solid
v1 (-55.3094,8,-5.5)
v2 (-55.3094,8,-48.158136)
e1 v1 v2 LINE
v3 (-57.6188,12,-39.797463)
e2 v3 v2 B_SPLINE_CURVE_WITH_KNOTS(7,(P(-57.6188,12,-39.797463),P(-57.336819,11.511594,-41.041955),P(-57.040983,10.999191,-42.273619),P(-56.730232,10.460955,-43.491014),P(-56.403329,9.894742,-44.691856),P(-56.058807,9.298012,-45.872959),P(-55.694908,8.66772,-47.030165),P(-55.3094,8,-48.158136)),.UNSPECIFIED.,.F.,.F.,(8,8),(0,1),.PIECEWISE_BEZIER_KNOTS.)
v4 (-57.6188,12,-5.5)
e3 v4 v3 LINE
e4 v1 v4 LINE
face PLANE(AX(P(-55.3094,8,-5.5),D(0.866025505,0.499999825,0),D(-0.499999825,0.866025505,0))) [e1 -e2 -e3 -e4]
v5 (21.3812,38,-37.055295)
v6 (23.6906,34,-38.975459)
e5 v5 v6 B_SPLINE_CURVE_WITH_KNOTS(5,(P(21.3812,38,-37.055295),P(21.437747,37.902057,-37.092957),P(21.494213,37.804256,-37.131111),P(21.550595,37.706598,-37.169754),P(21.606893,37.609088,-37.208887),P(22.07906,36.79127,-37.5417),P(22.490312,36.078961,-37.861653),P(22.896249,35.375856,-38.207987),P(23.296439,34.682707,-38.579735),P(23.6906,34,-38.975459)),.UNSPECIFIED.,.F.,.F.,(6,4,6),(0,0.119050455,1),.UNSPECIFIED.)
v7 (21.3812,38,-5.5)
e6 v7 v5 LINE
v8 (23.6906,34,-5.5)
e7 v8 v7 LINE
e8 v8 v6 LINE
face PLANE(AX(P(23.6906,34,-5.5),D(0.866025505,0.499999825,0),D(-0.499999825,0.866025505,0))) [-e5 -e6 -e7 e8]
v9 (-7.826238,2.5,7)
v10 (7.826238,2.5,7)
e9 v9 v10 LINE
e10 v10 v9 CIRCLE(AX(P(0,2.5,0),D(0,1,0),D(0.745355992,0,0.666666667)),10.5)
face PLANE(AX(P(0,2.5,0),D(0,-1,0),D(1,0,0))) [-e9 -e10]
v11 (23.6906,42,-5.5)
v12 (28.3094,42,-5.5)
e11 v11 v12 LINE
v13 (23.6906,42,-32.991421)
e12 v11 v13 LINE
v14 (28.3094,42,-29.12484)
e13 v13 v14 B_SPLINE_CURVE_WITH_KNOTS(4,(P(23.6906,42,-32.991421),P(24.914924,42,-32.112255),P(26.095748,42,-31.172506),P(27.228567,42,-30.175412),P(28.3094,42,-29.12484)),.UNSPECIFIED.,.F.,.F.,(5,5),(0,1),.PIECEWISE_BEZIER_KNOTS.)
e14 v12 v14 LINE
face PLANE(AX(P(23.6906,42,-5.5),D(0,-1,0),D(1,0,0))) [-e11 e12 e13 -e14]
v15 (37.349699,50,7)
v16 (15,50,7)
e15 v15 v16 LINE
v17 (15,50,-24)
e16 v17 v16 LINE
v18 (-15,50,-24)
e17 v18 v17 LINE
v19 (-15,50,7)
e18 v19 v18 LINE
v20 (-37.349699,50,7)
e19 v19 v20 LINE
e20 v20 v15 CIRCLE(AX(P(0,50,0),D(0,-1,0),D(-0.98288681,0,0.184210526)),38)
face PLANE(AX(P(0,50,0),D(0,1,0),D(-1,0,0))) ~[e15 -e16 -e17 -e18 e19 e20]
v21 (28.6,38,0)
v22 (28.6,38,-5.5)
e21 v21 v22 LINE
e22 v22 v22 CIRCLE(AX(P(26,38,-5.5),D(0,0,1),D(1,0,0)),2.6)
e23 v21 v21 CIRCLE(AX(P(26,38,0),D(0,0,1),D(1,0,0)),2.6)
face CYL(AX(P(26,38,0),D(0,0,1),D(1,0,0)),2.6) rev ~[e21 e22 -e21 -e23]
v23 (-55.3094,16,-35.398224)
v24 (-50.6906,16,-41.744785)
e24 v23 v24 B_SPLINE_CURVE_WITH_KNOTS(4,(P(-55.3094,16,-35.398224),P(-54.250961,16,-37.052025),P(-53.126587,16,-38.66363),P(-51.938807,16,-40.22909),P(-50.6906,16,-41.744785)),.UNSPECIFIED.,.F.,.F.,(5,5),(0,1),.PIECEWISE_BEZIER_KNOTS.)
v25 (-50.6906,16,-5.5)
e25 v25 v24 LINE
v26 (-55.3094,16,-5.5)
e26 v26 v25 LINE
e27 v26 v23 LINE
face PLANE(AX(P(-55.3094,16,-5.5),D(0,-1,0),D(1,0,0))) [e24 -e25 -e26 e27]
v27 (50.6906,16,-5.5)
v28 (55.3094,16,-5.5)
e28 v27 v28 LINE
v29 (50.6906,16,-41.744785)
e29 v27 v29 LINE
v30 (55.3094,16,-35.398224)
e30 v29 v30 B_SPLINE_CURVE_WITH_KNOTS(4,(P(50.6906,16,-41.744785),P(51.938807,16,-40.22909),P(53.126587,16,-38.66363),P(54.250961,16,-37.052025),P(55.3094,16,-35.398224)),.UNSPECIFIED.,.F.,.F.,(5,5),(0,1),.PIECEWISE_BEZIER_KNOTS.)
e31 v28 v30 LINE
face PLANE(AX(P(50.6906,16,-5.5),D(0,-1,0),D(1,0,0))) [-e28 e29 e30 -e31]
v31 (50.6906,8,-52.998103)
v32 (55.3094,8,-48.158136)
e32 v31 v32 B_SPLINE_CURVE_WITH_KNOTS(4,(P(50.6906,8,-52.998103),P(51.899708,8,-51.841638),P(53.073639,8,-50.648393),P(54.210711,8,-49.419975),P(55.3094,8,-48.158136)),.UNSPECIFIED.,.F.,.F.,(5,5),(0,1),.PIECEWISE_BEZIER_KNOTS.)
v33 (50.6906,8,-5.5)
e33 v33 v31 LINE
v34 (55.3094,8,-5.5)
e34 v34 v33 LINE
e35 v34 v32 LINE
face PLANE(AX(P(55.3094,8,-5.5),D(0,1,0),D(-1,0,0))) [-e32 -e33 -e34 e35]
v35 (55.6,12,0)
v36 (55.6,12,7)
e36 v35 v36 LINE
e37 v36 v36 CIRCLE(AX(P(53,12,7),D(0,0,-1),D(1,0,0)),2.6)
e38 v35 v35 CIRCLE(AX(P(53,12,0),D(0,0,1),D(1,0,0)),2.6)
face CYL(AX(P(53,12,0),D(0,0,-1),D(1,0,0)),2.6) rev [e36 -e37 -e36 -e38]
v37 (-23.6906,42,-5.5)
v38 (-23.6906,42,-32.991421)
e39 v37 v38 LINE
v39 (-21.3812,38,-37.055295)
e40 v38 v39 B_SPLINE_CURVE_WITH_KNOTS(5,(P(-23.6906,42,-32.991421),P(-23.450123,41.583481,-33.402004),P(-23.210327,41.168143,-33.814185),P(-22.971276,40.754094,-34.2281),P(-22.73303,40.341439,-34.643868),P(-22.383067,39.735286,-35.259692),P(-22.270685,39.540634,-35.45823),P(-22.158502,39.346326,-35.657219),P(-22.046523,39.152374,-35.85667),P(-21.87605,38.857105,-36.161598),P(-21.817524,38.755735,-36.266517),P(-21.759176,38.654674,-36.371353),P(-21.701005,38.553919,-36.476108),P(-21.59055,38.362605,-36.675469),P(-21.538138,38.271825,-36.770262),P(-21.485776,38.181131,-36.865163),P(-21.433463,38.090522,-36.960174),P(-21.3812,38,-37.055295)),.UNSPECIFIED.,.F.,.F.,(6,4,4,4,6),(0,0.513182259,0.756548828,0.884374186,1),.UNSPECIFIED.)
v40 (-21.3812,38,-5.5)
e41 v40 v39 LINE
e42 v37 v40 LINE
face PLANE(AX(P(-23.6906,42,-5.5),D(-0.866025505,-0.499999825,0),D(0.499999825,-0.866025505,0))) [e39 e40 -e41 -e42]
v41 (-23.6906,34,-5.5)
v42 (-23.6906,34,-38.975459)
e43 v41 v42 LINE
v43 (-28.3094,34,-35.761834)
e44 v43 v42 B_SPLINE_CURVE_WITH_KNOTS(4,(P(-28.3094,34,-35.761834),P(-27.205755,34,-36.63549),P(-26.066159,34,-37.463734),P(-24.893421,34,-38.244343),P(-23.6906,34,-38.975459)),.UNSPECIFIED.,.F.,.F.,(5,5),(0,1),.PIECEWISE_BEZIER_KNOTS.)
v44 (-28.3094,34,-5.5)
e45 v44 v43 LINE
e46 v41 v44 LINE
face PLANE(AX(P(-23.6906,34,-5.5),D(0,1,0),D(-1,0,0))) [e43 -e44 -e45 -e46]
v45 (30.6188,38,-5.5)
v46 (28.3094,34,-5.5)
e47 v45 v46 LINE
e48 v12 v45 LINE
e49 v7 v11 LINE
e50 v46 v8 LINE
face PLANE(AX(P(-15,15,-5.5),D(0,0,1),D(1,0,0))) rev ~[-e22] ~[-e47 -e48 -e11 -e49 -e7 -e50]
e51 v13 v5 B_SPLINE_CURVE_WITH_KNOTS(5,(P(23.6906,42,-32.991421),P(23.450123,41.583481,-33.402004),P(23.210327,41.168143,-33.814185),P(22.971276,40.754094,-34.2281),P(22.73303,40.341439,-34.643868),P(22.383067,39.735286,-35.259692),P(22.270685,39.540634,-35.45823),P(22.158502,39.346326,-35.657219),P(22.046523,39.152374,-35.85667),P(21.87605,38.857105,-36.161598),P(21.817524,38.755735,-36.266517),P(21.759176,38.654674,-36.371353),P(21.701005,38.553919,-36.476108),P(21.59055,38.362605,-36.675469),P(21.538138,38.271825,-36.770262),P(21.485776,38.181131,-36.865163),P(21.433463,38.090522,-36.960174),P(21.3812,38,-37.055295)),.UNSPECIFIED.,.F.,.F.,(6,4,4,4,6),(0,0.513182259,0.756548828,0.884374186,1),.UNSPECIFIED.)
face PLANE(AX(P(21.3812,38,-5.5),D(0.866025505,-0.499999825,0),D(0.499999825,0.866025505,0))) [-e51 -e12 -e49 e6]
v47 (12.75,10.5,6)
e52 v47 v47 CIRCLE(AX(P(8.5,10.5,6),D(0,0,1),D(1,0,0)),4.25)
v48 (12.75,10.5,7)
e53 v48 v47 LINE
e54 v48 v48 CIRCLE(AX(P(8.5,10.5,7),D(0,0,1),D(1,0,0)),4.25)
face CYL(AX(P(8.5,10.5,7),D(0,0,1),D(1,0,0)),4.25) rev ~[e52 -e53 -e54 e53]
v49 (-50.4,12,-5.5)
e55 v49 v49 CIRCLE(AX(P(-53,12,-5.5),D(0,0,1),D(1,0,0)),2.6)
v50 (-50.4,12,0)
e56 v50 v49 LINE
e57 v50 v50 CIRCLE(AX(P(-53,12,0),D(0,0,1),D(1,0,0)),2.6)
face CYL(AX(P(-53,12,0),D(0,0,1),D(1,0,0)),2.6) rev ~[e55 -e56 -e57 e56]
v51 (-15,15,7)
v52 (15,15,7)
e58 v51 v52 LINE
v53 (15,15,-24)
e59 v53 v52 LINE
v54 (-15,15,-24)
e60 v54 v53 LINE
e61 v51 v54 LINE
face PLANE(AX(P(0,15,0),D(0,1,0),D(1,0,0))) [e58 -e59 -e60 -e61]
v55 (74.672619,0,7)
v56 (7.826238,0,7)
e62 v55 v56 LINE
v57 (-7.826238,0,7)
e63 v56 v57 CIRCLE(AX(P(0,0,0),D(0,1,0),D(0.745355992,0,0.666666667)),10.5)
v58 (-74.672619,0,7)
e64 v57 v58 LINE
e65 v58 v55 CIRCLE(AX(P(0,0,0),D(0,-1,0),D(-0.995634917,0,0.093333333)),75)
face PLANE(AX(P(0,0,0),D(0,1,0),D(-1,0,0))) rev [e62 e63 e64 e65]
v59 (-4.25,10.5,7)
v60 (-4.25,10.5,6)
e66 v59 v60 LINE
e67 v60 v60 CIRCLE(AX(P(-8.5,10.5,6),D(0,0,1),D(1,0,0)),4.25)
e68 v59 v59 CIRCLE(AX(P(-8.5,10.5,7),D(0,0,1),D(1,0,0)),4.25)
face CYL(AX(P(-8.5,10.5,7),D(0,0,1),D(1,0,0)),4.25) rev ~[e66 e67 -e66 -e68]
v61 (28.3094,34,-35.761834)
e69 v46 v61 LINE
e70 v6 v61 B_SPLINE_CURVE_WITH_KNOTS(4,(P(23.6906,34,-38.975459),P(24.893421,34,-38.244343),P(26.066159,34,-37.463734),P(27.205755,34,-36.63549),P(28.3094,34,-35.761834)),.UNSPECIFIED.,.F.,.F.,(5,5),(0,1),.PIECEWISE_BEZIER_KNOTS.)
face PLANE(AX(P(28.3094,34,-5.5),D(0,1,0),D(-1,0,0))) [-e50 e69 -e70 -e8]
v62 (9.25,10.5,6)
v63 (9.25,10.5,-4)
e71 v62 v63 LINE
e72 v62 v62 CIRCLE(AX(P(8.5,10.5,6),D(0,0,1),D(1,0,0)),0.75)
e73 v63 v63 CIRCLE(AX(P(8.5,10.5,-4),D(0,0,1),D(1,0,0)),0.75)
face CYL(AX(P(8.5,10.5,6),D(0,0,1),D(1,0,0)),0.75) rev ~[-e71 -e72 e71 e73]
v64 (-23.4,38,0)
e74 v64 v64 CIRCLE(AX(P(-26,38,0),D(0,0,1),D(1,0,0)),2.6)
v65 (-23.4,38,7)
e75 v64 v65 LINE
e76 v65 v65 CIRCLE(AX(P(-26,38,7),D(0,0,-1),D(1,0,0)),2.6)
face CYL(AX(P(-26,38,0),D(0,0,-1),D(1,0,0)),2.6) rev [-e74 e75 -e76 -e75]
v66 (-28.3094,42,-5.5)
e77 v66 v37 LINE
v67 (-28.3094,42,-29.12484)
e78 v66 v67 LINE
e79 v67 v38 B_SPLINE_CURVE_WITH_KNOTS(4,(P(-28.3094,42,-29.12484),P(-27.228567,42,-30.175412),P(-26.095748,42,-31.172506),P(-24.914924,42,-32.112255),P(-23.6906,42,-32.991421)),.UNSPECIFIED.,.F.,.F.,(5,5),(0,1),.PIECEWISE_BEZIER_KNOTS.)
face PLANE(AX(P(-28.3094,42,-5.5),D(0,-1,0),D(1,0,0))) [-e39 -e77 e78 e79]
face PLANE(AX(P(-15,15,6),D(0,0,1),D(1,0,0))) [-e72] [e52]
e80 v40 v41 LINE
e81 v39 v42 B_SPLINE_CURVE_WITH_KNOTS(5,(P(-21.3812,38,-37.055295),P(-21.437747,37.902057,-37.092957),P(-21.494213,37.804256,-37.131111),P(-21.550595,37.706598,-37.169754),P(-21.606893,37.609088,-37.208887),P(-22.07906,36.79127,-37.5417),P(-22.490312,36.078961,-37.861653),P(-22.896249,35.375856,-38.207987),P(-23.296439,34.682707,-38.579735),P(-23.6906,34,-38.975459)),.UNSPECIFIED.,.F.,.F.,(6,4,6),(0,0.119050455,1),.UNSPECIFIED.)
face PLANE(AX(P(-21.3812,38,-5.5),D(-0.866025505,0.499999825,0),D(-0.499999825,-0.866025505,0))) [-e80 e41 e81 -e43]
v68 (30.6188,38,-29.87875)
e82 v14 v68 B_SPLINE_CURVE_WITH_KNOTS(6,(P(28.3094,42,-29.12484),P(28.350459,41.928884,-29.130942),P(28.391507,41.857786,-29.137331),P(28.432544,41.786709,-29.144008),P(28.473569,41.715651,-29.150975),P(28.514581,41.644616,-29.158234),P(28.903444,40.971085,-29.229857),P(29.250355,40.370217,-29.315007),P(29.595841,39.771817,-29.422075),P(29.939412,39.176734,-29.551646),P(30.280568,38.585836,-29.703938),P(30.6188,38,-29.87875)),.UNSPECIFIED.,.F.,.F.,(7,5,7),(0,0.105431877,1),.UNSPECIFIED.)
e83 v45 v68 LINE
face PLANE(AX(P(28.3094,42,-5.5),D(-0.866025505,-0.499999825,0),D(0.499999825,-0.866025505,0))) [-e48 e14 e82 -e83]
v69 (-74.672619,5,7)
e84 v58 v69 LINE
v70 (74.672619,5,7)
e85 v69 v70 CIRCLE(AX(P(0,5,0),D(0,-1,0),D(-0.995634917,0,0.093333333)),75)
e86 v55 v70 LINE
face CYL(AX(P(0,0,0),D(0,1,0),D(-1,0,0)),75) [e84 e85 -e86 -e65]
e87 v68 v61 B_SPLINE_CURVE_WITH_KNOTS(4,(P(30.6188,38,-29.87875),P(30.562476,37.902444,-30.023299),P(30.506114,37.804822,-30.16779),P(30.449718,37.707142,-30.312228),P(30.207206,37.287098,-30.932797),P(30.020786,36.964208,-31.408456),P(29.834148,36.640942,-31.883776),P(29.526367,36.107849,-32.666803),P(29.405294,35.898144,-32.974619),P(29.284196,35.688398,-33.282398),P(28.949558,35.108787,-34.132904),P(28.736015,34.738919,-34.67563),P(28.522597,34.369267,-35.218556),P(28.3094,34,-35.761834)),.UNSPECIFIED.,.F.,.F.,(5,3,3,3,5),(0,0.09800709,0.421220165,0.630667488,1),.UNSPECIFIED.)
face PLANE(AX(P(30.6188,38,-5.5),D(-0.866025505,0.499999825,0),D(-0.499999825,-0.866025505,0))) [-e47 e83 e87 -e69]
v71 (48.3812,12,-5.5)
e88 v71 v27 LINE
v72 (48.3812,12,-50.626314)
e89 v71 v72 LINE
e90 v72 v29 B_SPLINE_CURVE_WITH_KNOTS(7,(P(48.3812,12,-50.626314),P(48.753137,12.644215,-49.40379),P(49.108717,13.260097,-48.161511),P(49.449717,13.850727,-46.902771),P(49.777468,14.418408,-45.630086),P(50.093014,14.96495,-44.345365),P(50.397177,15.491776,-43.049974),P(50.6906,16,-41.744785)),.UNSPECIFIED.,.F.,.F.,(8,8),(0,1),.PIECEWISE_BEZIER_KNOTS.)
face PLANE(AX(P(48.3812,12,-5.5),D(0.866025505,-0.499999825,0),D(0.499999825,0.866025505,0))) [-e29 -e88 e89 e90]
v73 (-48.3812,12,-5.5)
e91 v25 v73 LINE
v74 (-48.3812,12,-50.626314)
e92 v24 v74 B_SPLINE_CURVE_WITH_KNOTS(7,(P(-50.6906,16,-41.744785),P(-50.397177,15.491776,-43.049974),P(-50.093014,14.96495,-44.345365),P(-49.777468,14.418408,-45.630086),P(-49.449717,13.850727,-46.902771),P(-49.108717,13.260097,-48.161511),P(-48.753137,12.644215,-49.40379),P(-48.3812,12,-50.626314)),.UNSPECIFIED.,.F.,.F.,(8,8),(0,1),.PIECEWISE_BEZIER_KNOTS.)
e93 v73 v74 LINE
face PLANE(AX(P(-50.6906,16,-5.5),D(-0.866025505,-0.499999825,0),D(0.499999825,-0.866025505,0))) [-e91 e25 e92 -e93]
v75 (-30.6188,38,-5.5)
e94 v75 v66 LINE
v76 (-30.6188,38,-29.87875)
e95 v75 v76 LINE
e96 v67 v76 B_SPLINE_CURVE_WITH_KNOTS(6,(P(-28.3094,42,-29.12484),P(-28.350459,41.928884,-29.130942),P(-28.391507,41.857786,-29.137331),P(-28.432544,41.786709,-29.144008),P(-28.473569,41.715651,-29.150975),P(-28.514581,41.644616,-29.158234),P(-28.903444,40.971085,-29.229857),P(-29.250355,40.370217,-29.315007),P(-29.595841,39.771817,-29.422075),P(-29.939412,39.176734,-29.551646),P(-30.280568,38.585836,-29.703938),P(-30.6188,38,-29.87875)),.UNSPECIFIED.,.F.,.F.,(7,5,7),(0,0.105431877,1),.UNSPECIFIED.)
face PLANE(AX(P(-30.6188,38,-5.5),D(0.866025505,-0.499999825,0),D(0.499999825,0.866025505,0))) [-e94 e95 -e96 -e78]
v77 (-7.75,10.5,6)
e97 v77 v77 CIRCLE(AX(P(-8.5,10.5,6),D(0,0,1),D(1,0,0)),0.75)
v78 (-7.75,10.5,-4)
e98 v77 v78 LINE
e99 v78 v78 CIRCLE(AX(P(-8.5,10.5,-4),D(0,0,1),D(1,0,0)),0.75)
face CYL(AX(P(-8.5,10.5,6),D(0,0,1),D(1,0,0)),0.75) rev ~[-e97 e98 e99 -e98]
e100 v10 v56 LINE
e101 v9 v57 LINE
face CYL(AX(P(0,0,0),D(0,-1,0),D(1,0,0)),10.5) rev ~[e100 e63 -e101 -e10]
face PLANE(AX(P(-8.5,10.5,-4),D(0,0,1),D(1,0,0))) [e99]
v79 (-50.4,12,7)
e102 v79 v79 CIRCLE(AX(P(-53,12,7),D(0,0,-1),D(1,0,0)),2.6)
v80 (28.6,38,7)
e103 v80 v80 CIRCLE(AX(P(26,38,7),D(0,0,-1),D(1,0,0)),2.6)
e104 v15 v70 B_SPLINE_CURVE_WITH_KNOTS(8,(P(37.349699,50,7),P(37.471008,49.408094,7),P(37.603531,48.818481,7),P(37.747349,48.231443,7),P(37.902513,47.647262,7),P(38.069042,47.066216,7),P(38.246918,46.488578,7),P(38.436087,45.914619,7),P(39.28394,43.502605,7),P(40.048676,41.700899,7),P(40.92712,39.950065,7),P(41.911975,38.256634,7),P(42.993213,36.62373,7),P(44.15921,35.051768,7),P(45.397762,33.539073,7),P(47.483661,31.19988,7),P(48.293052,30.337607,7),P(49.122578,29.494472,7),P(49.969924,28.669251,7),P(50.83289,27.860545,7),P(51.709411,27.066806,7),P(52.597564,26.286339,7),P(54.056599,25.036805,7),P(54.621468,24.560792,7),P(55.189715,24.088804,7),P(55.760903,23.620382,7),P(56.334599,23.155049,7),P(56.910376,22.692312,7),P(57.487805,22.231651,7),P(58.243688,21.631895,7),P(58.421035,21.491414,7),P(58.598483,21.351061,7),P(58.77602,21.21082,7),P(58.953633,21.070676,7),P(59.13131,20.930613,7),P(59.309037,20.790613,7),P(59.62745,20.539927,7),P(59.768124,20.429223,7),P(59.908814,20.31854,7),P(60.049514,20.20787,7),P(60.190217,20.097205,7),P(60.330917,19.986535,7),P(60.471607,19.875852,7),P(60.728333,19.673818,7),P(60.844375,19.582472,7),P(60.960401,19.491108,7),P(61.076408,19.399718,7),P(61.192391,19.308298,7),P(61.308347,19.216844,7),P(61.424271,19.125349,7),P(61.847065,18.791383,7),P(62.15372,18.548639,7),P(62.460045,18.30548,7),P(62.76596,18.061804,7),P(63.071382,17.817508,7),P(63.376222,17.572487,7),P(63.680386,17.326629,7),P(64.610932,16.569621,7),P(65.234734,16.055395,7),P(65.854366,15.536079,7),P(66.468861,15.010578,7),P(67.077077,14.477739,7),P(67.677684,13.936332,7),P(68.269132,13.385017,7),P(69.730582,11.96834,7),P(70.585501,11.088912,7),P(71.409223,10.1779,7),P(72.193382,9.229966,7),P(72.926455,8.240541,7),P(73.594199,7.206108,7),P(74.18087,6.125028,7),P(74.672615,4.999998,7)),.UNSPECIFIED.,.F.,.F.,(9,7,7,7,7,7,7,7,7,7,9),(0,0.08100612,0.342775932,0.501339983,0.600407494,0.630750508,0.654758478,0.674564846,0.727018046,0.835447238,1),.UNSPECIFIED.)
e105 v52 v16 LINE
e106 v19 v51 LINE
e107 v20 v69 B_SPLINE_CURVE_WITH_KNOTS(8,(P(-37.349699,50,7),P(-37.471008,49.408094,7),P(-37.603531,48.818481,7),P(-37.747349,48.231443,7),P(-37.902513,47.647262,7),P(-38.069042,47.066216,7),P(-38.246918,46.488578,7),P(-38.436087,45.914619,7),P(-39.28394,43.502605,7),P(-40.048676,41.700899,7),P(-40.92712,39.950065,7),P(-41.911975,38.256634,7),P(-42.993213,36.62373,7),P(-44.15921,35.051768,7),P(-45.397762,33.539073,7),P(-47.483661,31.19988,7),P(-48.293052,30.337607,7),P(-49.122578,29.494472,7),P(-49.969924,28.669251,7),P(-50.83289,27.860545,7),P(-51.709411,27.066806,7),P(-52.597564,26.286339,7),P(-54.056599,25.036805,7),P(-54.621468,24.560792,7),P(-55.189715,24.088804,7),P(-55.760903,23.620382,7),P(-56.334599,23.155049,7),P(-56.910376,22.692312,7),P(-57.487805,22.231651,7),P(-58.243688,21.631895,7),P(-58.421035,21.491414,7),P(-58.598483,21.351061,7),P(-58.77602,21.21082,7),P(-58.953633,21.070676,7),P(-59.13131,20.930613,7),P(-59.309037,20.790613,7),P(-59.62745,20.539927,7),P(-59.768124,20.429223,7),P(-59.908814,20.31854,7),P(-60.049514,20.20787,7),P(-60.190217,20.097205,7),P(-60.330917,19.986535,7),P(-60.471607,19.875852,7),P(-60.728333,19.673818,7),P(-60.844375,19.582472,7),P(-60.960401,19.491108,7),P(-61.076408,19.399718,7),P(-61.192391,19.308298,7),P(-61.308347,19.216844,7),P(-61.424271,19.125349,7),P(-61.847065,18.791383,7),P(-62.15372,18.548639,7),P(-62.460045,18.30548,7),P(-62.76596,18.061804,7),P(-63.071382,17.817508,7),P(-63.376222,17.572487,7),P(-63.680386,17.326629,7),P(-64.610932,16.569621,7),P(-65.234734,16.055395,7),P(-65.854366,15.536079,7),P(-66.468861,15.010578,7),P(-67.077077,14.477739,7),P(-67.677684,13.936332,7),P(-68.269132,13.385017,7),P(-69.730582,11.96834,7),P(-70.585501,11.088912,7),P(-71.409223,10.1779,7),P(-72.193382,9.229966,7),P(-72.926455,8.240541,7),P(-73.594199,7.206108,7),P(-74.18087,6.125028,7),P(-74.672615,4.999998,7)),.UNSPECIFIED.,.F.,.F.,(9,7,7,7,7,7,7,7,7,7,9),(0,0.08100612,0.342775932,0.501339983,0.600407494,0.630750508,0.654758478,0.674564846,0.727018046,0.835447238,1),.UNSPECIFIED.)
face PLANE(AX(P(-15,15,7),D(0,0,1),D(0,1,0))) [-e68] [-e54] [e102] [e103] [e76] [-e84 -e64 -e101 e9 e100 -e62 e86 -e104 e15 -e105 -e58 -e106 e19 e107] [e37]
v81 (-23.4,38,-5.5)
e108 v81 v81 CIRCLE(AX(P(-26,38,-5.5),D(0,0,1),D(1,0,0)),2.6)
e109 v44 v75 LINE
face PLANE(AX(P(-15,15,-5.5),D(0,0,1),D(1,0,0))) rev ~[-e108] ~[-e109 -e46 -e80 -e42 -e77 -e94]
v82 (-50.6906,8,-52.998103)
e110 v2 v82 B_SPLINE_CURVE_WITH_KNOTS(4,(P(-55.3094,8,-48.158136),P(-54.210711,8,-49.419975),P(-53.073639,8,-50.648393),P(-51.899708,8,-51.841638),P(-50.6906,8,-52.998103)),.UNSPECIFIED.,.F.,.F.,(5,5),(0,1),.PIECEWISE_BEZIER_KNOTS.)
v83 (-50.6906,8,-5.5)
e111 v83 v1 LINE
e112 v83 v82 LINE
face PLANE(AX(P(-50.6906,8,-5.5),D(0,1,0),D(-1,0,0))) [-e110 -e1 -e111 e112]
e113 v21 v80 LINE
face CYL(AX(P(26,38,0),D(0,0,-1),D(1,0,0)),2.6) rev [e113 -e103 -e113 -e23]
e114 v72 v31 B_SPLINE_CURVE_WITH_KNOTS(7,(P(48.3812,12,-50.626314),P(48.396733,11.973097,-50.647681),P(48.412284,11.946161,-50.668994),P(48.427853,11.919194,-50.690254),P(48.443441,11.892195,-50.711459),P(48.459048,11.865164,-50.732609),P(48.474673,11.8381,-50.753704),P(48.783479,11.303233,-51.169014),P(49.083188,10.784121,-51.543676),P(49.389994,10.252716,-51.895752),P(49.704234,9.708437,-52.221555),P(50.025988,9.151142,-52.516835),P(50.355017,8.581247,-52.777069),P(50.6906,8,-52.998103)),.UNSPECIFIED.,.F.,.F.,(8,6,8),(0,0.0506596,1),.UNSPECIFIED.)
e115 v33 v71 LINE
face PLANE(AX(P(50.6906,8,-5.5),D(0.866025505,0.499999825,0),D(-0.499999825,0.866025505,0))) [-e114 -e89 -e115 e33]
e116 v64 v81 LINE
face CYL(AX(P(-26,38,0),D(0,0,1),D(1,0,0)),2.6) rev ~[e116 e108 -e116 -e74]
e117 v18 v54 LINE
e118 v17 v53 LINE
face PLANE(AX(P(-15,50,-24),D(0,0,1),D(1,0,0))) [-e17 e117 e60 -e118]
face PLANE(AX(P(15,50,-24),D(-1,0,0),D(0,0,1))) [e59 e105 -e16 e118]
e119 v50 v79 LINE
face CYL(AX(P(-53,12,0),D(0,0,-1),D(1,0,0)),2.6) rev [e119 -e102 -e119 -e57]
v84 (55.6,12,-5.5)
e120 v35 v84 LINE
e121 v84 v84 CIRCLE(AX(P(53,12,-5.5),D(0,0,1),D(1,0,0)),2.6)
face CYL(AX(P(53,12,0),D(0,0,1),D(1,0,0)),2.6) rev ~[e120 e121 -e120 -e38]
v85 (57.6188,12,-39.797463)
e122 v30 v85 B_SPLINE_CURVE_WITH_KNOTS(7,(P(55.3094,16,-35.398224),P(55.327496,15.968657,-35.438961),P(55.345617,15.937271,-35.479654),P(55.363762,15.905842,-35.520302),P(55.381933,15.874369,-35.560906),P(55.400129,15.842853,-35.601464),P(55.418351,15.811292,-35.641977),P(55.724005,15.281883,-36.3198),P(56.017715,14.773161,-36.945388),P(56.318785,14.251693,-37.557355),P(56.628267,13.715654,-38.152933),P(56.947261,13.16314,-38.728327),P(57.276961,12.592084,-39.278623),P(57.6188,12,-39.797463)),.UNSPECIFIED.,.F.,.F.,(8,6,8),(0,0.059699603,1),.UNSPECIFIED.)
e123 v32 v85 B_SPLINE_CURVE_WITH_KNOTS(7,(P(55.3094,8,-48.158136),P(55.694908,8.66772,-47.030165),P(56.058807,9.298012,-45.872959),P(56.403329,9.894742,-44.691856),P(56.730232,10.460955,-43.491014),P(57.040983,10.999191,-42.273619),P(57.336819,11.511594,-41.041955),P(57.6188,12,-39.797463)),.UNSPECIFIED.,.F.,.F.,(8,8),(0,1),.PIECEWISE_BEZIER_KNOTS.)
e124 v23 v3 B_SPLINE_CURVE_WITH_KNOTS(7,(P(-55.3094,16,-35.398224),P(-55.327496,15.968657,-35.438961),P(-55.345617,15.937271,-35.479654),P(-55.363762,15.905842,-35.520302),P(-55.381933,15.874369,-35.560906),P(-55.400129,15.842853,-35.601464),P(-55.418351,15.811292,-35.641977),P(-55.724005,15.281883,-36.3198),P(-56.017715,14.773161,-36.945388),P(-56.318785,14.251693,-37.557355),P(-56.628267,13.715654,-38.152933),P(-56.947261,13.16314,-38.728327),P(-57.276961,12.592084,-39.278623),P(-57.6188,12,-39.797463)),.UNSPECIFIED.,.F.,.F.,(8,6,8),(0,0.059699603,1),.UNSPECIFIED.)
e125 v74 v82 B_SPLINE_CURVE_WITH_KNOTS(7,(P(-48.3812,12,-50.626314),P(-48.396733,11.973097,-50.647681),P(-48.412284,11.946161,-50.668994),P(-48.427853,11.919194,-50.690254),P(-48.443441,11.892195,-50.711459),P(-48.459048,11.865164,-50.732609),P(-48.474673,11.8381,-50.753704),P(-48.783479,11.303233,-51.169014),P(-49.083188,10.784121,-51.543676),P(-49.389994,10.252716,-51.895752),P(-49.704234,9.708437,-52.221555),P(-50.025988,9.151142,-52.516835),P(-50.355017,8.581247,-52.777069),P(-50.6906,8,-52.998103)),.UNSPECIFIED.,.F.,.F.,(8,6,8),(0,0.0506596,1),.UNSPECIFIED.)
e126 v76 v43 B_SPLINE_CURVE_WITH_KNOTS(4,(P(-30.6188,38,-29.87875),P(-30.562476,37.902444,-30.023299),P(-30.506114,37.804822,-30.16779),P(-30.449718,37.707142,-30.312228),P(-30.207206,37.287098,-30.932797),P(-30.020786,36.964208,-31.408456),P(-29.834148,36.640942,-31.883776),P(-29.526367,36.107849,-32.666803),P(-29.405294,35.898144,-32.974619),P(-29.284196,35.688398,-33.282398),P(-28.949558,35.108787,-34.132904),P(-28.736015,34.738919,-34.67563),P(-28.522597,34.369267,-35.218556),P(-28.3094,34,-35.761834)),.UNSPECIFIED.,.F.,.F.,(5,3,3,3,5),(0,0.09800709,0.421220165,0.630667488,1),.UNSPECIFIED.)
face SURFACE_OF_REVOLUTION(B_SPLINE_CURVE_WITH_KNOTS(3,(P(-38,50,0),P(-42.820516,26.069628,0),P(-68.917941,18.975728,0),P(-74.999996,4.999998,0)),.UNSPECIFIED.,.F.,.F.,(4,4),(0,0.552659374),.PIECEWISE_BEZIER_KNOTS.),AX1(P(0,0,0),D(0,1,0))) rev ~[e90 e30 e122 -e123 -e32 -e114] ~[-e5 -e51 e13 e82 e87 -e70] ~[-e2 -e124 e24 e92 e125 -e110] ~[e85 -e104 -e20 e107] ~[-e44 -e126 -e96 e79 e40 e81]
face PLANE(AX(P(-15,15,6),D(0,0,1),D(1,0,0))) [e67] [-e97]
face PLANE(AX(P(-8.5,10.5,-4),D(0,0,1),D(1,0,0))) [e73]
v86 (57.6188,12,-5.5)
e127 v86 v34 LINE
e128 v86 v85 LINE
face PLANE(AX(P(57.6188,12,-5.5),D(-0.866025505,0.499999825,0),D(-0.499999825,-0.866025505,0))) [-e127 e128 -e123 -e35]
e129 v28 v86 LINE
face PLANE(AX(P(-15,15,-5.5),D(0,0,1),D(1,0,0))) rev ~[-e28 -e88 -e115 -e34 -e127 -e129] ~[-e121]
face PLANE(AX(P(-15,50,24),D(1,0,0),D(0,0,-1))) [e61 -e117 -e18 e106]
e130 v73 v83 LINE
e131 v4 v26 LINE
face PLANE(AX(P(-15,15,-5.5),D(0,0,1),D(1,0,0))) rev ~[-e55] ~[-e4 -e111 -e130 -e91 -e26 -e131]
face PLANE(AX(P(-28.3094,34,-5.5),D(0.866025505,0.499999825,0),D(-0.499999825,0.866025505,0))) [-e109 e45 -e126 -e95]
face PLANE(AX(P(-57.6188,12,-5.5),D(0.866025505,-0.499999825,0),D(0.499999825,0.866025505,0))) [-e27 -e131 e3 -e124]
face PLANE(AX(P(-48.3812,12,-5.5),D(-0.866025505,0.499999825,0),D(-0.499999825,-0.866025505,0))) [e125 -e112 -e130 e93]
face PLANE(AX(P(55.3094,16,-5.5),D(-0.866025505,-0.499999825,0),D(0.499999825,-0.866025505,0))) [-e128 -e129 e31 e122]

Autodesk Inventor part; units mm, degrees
ref_plane "YZ Plane" through (0, 0, 0) normal (1, 0, 0) x (0, 1, 0)
sketch "Sketch1" plane through (0, 0, 0) normal (0, 0, 1) x (1, 0, 0)
  line L0 (0, 0) -> (-75, 0)
  line L1 (0, 0) -> (0, 50)
  line L2 (0, 50) -> (-38, 50)
  line L3 (-75, 0) -> (-75, 5)
  spline S0 degree 3 poles (-38, 50) (-46.7224, 6.6996) (-125.1064, 18.5226) (-28.5296, -55.0422) knots 0 0 0 0 1 1 1 1
  point P0 (-58.1914, 22.009)
  dimension "d0" = 75
  dimension "d1" = 50
  dimension "d2" = 38
  dimension "d3" = 5
revolve "Revolution1" add sketch "Sketch1" angle 360 about axis through (0, 0, 0) along (0, 1, 0)
sketch "Sketch2" plane through (0, 50, 0) normal (0, 1, 0) x (1, 0, 0)
  line L0 (-15, 24) -> (15, 24)
  line L1 (15, 24) -> (15, -24)
  line L2 (15, -24) -> (-15, -24)
  line L3 (-15, -24) -> (-15, 24)
  point P0 (0, 0)
  dimension "d5" = 30
  dimension "d6" = 48
  dimension "d7" = 24
  dimension "d8" = 15
extrude "Extrusion1" cut sketch "Sketch2" against normal blind 35
sketch "Sketch3" plane through (0, 15, 0) normal (0, 1, 0) x (1, 0, 0)
  line L0 (15, -24) -> (-15, -24) projected
  line L1 (-15, -24) -> (-15, 24) projected
  line L2 (15, -24) -> (-15, -24)
  line L3 (-15, -24) -> (-15, -7)
  line L4 (-15, -7) -> (15, -7)
  line L5 (15, -7) -> (15, -24)
  point P0 (0, 0)
  dimension "d11" = 17
extrude "Extrusion2" cut sketch "Sketch3" against normal blind 8
sketch "Sketch4" plane through (0, 0, 0) normal (0, 0, 1) x (1, 0, 0)
  circle A0 centre (-26, 38) radius 2.6
  circle A1 centre (-53, 12) radius 2.6
  line L0 (75, 0) -> (-75, 0) projected
  line L1 (38, 50) -> (-38, 50) projected
  line L2 (-75, 0) -> (-75, 5) projected
  line L3 (15, 50) -> (-15, 50) construction
  line L4 (0, 50) -> (0, 20.8019) construction
  circle A2 centre (26, 38) radius 2.6
  circle A3 centre (53, 12) radius 2.6
  point P0 (0, 0)
  dimension "d14" = 5.2
  dimension "d15" = 5.2
  dimension "d16" = 12
  dimension "d17" = 12
  dimension "d18" = 22
  dimension "d19" = 12
extrude "Extrusion3" cut sketch "Sketch4" along normal blind 52 and the other way blind 52
ref_plane "Work Plane1" through (-15, 15, 7) normal (0, 0, 1) x (1, 0, 0)
split "Split1" plane through (-15, 15, 7) removes the side toward (0, 0, 1)
sketch "Sketch6" plane through (0, 0, 0) normal (0, -1, 0) x (1, 0, 0)
  circle A0 centre (0, 0) radius 10.5
  dimension "d25" = 21
extrude "Extrusion4" cut sketch "Sketch6" against normal blind 2.5
ref_plane "Work Plane2" through (-15, 15, -5.5) normal (0, 0, 1) x (1, 0, 0)
sketch "Sketch7" plane through (-15, 15, -5.5) normal (0, 0, 1) x (1, 0, 0)
  circle A0 centre (41, 23) radius 2.6 projected
  line L0 (38.6906, 27) -> (43.3094, 27)
  line L1 (43.3094, 27) -> (45.6188, 23)
  line L2 (45.6188, 23) -> (43.3094, 19)
  line L3 (43.3094, 19) -> (38.6906, 19)
  line L4 (38.6906, 19) -> (36.3812, 23)
  line L5 (36.3812, 23) -> (38.6906, 27)
  circle A1 centre (-11, 23) radius 2.6 projected
  line L6 (-13.3094, 27) -> (-8.6906, 27)
  line L7 (-8.6906, 27) -> (-6.3812, 23)
  line L8 (-6.3812, 23) -> (-8.6906, 19)
  line L9 (-8.6906, 19) -> (-13.3094, 19)
  line L10 (-13.3094, 19) -> (-15.6188, 23)
  line L11 (-15.6188, 23) -> (-13.3094, 27)
  circle A2 centre (-38, -3) radius 2.6 projected
  line L12 (-35.6906, 1) -> (-33.3812, -3)
  line L13 (-33.3812, -3) -> (-35.6906, -7)
  line L14 (-35.6906, -7) -> (-40.3094, -7)
  line L15 (-40.3094, -7) -> (-42.6188, -3)
  line L16 (-42.6188, -3) -> (-40.3094, 1)
  line L17 (-40.3094, 1) -> (-35.6906, 1)
  circle A3 centre (68, -3) radius 2.6 projected
  line L18 (65.6906, 1) -> (70.3094, 1)
  line L19 (70.3094, 1) -> (72.6188, -3)
  line L20 (72.6188, -3) -> (70.3094, -7)
  line L21 (70.3094, -7) -> (65.6906, -7)
  line L22 (65.6906, -7) -> (63.3812, -3)
  line L23 (63.3812, -3) -> (65.6906, 1)
  line L24 (30, 35) -> (52.3497, 35) projected
  line L25 (-22.3497, 35) -> (0, 35) projected
  point P0 (15, -15)
  dimension "d29" = 8
  dimension "d30" = 8
  dimension "d31" = 8
  dimension "d32" = 8
extrude "Extrusion5" cut sketch "Sketch7" against normal blind 50 contours A0 | L0 L1 L2 L3 L4 L5 | A1 | L6 L7 L8 L9 L10 L11 | A2 | L12 L13 L14 L15 L16 L17 | A3 | L18 L19 L20 L21 L22 L23
sketch "Sketch8" plane through (-15, 15, 7) normal (0, 0, 1) x (1, 0, 0)
  point P0 (15, -15)
sketch "Sketch9" plane through (-15, 15, 7) normal (0, 0, 1) x (1, 0, 0)
  arc A0 (8.3697, -6.5166) -> (4.6303, -6.5166) centre (6.5, -4.5) ccw
  arc A1 (25.3697, -6.5166) -> (22.2084, -6.9278) centre (23.5, -4.5) ccw
  circle A2 centre (6.5, -4.5) radius 4.25
  circle A3 centre (23.5, -4.5) radius 4.25
  line L0 (7.1738, -15) -> (-59.6726, -15)
  spline S0 degree 3 poles (-59.6726, -10) (-58.7689, -7.9323) (-57.4468, -6.0708) (-54.3242, -2.5217) (-52.3894, -0.7667) (-46.4805, 4.2144) (-41.726, 7.6418) (-33.4997, 14.92) (-30.0416, 18.5511) (-24.9099, 26.5974) (-23.2478, 30.6178) (-22.3497, 35) knots -6.163162 -6.163162 -6.163162 -6.163162 -5.426539 -5.426539 -4.614235 -4.614235 -2.856788 -2.856788 -1.341997 -1.341997 0 0 0 0
  line L1 (-59.6726, -15) -> (-59.6726, -10)
  line L2 (-22.3497, 35) -> (0, 35)
  spline S1 degree 3 poles (52.3497, 35) (53.0647, 31.5111) (54.27, 28.2261) (57.5622, 22.1809) (59.5109, 19.5298) (66.0487, 12.2093) (71.1762, 8.2595) (79.7672, 1.4925) (83.3346, -1.3766) (87.4881, -6.1291) (88.7829, -7.9645) (89.6726, -10) knots -5.079654 -5.079654 -5.079654 -5.079654 -4.231884 -4.231884 -3.44283 -3.44283 -1.900227 -1.900227 -0.666449 -0.666449 0 0 0 0
  line L3 (30, 35) -> (52.3497, 35)
  line L4 (89.6726, -10) -> (89.6726, -15)
  line L5 (89.6726, -15) -> (22.8262, -15)
  point P0 (15, -15)
  dimension "d35" = 8.5
  dimension "d36" = 8.5
extrude "Extrusion6" cut sketch "Sketch9" against normal blind 1
sketch "Sketch10" plane through (-8.5, 10.5, 6) normal (0, 0, 1) x (1, 0, 0)
  circle A0 centre (0, 0) radius 0.75
  circle A1 centre (17, 0) radius 4.25 projected
  circle A2 centre (17, 0) radius 0.75
  point P0 (8.5, -10.5)
  dimension "d39" = 1.5
  dimension "d40" = 1.5
extrude "Extrusion7" cut sketch "Sketch10" against normal blind 10 contours A0 | A2
equation "\"d7\" = 0.5 * d6"
equation "\"d8\" = 0.5 * d5"
properties part number "Podstawa 01-2"
